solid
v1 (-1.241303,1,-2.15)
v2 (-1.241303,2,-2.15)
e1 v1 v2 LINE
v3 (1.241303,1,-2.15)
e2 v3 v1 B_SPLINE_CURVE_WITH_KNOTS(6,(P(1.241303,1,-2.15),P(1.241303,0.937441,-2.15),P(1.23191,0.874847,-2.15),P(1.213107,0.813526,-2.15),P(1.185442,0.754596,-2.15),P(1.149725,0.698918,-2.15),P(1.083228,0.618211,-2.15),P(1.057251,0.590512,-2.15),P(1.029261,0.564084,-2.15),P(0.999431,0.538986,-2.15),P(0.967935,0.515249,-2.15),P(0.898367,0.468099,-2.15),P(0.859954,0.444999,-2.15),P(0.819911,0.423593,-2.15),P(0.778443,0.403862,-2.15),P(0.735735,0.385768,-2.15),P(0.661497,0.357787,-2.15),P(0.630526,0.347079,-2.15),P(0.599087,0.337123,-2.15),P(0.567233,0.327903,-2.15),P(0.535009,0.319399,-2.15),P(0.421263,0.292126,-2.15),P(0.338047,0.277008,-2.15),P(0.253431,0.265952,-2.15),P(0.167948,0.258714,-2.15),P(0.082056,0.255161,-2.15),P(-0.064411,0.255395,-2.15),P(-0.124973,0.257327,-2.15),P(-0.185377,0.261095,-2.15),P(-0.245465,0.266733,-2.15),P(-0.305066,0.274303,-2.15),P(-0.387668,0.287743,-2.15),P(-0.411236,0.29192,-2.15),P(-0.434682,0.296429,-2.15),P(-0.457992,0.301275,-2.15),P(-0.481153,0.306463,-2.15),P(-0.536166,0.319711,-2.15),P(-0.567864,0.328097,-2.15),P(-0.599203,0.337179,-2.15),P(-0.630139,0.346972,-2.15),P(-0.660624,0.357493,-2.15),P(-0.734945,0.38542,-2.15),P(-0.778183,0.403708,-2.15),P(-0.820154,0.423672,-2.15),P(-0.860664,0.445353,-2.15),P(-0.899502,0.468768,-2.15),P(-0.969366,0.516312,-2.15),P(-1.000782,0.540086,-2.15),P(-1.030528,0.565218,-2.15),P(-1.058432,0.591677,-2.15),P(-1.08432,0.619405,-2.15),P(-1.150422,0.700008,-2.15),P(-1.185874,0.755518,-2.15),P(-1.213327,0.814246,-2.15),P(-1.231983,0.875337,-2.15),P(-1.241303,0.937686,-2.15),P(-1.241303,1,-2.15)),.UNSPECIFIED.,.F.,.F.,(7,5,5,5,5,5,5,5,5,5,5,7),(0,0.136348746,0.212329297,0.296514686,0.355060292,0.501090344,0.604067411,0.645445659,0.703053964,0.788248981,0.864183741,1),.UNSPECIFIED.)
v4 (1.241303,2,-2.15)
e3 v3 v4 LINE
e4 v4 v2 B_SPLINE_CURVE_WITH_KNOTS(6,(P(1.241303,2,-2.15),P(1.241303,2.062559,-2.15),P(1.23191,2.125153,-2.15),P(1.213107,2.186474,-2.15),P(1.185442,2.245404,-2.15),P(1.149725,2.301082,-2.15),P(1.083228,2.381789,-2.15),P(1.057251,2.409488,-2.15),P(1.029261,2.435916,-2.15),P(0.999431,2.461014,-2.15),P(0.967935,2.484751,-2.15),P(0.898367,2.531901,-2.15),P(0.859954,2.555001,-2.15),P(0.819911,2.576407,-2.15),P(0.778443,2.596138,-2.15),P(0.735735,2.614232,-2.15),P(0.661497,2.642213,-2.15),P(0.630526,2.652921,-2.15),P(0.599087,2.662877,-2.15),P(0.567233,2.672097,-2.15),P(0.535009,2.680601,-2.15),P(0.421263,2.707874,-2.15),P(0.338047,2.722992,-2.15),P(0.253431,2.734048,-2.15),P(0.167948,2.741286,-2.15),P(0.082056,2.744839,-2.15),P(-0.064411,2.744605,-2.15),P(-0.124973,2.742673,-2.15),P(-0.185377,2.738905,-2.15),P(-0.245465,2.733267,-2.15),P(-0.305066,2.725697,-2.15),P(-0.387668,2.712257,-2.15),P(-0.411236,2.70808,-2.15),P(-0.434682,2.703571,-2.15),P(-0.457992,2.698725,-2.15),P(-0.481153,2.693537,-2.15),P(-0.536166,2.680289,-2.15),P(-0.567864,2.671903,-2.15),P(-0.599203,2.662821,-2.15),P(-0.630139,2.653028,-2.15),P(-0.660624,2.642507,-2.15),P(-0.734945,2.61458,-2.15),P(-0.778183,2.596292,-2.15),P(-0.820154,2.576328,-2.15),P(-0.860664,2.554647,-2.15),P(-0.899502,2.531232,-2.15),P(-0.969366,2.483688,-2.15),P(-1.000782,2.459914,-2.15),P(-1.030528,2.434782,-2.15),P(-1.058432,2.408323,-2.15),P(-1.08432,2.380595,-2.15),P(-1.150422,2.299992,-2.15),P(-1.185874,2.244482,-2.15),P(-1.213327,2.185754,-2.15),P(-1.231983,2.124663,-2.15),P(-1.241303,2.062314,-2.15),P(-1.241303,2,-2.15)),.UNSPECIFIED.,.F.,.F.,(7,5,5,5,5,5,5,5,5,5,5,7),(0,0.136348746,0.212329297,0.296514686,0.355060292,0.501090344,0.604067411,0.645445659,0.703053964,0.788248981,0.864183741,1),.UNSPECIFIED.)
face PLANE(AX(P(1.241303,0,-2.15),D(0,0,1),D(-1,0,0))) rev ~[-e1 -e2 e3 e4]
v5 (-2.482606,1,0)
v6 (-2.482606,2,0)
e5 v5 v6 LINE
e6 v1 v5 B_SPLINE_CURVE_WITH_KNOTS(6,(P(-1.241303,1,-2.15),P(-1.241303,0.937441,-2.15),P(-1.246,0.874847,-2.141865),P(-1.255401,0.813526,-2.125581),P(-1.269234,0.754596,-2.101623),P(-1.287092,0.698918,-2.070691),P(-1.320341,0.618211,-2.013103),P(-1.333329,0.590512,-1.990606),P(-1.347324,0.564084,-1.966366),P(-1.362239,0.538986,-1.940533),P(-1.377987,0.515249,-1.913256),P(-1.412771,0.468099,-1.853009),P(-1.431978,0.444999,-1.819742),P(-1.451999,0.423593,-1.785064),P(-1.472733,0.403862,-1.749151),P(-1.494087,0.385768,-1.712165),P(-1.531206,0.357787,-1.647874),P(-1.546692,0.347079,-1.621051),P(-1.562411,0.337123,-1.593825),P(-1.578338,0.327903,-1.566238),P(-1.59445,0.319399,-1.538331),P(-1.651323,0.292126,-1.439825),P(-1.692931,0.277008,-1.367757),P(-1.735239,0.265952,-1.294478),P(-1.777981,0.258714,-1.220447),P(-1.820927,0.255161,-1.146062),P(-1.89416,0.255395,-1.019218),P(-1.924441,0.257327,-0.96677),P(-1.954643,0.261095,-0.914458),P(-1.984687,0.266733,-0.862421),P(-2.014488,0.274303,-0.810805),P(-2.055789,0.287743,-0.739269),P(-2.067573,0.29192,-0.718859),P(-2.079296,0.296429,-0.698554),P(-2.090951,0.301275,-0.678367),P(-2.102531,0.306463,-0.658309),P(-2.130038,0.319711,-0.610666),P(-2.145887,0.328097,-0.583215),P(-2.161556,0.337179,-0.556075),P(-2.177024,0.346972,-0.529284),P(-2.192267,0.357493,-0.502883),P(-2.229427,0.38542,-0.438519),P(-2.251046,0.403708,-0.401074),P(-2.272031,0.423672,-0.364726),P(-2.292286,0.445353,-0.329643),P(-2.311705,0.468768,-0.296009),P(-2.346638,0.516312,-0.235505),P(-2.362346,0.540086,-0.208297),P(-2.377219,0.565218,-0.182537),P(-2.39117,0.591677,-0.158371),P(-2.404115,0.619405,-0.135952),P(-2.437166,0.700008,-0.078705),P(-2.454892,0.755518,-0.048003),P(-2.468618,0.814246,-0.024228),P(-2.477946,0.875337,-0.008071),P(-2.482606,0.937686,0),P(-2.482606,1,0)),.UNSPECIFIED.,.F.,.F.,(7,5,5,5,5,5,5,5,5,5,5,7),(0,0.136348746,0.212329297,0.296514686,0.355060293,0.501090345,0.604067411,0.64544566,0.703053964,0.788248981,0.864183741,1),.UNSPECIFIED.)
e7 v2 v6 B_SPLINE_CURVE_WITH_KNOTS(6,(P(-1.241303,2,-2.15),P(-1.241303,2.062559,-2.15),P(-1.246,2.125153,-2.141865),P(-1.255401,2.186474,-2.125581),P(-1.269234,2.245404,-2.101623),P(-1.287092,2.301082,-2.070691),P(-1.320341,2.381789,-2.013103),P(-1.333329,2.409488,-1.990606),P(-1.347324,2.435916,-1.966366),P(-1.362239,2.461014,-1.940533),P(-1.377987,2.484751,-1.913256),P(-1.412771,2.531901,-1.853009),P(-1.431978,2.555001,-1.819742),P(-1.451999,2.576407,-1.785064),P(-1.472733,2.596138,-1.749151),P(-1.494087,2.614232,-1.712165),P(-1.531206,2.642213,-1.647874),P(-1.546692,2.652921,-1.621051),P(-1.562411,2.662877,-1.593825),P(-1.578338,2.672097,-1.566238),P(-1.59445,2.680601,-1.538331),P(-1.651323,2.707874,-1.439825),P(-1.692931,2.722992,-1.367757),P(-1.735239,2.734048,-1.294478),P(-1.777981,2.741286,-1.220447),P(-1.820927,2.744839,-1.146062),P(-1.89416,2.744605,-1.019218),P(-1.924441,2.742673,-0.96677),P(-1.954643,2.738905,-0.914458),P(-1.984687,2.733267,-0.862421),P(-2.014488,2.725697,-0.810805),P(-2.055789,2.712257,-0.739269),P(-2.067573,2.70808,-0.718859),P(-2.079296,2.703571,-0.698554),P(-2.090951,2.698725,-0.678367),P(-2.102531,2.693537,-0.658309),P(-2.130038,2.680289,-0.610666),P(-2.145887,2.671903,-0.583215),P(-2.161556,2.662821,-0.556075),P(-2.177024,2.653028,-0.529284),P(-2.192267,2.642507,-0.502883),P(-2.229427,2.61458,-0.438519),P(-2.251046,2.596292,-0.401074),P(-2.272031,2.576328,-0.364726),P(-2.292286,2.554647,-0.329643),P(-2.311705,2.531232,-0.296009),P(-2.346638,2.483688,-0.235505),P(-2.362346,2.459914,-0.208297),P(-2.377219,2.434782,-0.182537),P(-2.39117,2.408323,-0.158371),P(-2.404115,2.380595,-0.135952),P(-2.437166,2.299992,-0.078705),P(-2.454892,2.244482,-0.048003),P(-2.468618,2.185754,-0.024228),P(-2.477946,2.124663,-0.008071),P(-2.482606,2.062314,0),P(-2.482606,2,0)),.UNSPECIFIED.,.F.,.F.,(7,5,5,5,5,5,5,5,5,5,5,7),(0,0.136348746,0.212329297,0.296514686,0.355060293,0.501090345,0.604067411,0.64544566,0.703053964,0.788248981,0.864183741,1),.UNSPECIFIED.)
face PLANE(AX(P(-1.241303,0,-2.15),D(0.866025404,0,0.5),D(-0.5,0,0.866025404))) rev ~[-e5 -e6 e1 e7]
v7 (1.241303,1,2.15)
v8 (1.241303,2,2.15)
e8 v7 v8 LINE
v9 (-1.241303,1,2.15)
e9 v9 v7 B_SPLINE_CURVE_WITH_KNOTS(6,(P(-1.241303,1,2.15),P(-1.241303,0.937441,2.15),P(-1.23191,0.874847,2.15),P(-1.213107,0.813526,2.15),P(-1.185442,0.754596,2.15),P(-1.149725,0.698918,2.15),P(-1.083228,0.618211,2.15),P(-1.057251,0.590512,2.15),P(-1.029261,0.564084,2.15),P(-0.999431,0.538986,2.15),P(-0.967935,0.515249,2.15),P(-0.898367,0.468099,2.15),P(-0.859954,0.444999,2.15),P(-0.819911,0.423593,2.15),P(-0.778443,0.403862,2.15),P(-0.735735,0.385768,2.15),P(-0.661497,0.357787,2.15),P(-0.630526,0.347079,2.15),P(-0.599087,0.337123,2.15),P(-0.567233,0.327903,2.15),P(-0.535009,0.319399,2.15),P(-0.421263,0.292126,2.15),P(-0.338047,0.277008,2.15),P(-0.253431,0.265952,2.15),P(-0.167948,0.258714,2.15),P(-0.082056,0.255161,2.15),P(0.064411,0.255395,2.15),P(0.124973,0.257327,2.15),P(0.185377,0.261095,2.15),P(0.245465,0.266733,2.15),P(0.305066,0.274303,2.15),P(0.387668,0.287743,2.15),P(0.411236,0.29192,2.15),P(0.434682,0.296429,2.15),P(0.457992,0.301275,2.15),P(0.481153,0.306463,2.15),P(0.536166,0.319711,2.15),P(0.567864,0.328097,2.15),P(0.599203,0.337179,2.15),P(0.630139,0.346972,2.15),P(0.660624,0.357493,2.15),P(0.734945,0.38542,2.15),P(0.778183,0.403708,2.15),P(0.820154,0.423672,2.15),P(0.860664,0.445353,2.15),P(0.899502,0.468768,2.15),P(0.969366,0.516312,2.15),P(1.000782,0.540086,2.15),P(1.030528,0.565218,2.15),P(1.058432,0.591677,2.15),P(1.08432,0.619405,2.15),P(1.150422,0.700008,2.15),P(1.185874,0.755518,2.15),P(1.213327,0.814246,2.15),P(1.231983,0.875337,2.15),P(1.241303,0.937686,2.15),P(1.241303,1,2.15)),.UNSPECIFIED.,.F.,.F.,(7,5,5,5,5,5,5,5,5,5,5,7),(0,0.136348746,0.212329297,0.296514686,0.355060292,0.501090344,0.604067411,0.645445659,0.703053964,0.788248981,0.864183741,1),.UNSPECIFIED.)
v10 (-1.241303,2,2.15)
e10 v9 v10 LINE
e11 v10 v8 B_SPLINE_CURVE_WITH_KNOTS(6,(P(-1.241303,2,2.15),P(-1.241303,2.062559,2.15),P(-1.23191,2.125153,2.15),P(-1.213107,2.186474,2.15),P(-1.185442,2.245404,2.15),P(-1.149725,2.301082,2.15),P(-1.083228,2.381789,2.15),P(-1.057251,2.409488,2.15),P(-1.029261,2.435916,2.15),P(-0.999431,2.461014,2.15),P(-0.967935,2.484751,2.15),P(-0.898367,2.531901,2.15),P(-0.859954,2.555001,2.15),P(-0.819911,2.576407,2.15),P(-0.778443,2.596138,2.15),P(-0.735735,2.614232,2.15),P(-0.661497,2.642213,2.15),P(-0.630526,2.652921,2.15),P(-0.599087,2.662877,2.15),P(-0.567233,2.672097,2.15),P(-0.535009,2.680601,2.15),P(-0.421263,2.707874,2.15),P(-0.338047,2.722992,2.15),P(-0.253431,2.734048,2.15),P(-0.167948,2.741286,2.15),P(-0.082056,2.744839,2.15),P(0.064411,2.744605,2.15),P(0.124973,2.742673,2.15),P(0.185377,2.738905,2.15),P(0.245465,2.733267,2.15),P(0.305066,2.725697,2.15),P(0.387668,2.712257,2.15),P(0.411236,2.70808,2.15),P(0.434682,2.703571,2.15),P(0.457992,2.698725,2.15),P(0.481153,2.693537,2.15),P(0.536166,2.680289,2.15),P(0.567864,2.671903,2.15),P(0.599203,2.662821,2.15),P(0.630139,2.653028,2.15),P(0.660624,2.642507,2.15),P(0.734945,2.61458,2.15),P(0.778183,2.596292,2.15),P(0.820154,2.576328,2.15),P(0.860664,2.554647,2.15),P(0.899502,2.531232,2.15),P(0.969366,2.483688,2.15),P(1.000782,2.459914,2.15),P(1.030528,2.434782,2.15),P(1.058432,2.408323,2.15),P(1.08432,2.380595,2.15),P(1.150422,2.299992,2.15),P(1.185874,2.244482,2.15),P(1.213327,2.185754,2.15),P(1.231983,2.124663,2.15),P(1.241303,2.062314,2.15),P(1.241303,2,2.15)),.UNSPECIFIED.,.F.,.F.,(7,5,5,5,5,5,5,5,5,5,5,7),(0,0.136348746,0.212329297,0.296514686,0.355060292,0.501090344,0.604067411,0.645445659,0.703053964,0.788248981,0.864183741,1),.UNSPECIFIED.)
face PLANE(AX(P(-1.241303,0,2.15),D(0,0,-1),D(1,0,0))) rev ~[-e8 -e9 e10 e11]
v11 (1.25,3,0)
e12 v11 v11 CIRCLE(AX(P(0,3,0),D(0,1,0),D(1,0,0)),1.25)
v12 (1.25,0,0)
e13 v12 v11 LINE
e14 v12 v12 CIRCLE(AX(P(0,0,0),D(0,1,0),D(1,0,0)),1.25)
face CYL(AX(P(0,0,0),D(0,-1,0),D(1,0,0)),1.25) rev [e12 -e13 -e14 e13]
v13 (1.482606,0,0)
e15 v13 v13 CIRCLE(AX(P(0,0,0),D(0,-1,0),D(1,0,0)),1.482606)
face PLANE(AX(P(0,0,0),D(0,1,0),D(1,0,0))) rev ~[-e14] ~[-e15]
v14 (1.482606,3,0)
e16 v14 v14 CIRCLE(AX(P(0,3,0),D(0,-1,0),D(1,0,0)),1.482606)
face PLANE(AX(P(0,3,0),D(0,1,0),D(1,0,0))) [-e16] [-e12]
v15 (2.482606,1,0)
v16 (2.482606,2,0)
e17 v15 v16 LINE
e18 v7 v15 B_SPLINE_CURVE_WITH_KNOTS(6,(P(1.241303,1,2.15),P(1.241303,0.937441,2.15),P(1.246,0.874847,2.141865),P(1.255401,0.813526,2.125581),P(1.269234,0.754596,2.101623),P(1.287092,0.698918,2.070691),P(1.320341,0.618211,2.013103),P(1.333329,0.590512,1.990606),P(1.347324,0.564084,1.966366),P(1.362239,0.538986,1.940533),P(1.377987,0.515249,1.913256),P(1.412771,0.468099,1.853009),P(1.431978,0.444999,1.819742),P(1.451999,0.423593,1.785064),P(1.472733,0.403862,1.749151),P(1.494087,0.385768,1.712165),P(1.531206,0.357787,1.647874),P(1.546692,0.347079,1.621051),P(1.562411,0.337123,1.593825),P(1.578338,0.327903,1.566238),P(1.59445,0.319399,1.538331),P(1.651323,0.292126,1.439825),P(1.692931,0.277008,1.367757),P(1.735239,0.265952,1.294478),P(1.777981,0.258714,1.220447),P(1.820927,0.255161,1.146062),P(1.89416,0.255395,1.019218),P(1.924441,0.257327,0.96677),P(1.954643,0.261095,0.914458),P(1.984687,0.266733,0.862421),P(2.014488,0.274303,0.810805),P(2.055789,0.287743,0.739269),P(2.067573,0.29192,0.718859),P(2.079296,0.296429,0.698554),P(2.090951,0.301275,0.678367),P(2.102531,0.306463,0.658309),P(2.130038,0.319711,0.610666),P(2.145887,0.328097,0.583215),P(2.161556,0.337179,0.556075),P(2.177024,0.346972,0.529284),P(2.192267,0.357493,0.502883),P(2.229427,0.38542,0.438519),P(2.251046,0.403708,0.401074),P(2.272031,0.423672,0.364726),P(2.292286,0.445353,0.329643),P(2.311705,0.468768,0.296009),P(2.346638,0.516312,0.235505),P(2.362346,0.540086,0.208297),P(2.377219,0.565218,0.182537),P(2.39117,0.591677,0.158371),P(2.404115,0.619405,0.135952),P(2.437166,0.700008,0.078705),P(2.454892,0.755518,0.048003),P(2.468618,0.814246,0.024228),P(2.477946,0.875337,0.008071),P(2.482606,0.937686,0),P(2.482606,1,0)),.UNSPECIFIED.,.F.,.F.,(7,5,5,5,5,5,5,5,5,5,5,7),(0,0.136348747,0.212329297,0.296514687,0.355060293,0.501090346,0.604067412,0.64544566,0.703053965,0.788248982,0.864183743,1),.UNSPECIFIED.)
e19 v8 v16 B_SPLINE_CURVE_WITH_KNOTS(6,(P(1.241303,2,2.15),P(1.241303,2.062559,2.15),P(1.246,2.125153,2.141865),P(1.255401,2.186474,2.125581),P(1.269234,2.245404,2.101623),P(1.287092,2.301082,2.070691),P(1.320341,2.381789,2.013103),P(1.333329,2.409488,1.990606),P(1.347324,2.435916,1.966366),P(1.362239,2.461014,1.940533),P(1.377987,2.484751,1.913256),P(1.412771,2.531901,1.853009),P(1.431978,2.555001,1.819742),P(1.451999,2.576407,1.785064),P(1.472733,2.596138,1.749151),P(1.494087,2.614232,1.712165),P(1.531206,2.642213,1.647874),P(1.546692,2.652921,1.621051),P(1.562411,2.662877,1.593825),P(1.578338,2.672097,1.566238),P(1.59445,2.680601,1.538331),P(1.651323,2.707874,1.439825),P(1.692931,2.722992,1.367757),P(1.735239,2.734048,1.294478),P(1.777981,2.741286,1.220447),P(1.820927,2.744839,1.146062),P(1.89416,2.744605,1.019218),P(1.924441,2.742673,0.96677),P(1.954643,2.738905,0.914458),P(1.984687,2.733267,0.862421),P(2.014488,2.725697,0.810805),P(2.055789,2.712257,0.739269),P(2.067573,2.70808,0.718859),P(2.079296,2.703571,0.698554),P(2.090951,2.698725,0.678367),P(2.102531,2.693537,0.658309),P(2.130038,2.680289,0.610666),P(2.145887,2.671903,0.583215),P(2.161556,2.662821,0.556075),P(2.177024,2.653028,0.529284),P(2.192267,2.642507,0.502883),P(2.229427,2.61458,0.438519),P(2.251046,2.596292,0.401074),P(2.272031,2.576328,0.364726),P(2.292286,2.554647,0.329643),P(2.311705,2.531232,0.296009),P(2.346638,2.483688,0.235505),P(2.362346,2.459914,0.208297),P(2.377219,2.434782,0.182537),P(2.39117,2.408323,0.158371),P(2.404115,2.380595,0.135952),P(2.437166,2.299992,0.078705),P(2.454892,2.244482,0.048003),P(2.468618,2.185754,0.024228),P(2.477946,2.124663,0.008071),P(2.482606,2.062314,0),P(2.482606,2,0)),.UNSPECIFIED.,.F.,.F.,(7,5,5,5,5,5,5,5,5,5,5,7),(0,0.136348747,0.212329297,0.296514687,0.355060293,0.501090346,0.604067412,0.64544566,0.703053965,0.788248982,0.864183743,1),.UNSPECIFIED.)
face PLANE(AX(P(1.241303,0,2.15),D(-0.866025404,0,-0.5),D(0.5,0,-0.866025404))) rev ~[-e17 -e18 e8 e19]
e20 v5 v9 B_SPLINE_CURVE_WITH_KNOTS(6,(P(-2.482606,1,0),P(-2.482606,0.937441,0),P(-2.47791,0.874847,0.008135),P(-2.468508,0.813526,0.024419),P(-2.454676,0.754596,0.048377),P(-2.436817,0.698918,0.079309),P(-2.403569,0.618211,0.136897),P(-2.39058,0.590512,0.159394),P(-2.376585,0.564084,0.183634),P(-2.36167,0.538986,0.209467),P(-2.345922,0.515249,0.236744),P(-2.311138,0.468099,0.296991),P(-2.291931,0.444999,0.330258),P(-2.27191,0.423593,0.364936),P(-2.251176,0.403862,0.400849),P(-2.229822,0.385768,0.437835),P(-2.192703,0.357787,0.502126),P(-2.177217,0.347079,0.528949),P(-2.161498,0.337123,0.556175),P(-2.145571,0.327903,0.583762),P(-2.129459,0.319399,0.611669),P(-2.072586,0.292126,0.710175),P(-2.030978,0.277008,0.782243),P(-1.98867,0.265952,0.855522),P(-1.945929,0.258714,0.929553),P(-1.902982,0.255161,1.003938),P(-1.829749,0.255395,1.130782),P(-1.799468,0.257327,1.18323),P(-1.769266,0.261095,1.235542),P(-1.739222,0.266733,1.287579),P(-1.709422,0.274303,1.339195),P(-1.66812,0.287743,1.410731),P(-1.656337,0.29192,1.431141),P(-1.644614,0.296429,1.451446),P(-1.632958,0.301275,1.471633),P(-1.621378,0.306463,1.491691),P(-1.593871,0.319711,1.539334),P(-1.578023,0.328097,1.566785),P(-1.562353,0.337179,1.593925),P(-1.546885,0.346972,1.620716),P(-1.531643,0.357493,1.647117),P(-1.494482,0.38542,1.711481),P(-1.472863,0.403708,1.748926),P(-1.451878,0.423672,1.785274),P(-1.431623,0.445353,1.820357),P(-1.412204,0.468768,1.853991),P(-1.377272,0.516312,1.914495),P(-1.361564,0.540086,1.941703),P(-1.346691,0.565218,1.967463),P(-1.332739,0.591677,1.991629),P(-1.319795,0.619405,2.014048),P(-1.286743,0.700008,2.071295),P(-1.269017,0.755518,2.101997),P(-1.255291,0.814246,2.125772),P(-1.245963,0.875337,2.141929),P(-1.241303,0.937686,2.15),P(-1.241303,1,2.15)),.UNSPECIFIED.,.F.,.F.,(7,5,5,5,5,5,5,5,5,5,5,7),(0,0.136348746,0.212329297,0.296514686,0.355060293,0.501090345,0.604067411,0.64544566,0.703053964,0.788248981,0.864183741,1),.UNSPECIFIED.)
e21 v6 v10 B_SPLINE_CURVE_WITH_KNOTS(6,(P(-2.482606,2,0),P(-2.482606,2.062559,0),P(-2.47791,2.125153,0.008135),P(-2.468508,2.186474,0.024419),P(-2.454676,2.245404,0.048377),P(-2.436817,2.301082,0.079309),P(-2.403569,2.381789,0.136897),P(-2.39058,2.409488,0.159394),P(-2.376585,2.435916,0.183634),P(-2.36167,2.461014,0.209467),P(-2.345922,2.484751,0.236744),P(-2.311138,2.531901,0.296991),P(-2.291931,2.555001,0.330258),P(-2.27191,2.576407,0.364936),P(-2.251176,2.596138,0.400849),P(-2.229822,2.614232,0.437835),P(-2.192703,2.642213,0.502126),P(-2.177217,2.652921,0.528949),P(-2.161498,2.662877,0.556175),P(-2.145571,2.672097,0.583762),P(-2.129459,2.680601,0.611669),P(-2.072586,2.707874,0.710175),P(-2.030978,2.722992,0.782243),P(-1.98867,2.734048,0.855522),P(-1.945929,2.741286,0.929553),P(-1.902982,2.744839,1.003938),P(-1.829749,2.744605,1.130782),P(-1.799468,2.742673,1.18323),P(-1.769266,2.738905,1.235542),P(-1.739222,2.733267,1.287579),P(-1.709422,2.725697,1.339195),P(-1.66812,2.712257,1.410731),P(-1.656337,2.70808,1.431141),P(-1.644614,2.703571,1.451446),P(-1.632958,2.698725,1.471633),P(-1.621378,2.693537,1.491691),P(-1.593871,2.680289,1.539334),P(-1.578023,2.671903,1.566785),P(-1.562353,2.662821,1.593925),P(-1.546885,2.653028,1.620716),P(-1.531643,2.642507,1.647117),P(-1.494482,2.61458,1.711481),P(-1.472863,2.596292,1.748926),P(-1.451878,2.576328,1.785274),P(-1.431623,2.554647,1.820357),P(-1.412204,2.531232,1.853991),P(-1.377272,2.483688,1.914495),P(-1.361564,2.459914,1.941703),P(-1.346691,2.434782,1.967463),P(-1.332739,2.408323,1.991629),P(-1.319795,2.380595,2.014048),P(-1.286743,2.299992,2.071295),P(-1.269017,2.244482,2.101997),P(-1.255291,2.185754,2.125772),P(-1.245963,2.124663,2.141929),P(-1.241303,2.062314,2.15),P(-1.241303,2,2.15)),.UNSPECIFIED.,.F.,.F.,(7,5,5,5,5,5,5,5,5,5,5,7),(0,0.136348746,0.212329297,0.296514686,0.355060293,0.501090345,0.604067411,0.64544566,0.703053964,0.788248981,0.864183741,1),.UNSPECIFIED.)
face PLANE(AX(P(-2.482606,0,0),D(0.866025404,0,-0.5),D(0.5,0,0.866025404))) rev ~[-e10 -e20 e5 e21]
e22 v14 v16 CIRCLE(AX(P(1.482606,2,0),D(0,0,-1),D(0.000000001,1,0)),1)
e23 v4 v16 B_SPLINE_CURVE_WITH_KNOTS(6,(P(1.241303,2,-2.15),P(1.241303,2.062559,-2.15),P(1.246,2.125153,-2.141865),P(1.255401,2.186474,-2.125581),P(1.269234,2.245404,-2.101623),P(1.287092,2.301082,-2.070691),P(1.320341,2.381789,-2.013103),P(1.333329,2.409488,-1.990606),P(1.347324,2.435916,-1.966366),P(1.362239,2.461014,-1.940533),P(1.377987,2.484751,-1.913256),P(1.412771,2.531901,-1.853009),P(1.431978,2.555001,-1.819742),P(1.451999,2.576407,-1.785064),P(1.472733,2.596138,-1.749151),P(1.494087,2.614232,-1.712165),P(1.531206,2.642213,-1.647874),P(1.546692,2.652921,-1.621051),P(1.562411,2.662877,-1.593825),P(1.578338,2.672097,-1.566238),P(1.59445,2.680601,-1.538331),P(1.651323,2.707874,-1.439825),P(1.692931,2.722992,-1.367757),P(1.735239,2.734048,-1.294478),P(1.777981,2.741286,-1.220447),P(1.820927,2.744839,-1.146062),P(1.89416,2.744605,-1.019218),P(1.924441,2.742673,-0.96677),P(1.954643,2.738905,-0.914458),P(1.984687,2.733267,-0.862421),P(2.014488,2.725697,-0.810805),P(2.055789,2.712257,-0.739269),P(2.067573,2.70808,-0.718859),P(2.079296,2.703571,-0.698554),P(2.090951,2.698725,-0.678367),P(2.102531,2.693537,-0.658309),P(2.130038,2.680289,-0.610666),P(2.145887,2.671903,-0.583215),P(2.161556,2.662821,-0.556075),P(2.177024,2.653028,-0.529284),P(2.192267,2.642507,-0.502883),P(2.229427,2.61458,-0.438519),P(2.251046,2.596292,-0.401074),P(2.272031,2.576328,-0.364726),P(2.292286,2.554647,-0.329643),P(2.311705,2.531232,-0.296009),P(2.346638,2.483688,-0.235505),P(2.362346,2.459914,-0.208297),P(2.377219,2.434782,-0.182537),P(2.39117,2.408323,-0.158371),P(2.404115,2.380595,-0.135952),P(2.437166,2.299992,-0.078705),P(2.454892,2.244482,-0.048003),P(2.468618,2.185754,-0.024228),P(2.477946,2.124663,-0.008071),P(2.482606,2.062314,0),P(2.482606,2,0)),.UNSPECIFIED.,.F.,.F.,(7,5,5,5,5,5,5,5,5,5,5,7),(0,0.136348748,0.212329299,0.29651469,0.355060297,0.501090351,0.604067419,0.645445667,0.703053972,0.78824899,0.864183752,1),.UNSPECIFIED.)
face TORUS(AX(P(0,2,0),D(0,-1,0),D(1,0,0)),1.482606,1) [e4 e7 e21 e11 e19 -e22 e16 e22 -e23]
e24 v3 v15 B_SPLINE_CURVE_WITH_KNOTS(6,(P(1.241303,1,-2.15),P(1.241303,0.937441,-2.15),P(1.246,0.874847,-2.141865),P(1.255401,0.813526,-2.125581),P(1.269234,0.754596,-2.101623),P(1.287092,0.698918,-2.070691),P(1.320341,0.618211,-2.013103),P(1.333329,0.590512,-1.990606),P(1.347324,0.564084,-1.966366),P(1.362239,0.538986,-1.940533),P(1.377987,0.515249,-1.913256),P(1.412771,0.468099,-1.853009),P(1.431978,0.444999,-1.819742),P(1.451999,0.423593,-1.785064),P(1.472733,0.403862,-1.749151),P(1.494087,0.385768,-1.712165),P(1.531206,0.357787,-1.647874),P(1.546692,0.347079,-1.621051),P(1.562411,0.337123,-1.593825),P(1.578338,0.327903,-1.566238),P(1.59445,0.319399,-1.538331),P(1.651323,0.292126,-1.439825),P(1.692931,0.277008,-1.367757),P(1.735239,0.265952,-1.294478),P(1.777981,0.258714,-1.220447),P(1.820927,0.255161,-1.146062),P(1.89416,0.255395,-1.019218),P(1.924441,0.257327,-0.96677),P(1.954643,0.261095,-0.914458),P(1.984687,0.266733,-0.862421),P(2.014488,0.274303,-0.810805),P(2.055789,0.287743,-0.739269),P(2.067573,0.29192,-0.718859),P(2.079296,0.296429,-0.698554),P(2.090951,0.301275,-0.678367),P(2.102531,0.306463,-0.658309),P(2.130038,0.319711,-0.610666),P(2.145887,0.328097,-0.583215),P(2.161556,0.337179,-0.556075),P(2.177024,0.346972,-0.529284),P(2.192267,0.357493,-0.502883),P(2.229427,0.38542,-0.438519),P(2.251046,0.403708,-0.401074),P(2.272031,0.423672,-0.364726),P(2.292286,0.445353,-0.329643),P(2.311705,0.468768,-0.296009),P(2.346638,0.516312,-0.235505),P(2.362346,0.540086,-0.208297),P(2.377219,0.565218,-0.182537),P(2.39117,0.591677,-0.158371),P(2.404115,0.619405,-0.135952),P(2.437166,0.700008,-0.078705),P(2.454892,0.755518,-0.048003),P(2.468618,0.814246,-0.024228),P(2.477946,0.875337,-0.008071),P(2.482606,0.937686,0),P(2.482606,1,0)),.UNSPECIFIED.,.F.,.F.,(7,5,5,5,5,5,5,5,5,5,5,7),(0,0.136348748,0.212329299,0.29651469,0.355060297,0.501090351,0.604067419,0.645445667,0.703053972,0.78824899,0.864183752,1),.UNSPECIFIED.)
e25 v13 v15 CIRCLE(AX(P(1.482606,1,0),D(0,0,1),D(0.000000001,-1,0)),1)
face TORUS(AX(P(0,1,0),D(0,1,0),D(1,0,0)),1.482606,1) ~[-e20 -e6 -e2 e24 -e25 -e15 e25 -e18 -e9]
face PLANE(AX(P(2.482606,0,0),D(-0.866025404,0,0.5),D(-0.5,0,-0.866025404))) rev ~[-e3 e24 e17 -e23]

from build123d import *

# Parameters (mm, degrees)
SKETCH2_R           = 1.25
BOSS_EXTRUDE1_DEPTH = 3


with BuildPart() as part:
    # Sketch2 → Boss-Extrude1 (new body)
    with BuildSketch(Plane(origin=(0, 0, 0), x_dir=(1, 0, 0), z_dir=(0, 1, 0))):
        Polygon((2.482606158, 0), (1.241303079, 2.15), (-1.241303079, 2.15), (-2.482606158, 0), (-1.241303079, -2.15), (1.241303079, -2.15), align=None)
        Circle(SKETCH2_R, mode=Mode.SUBTRACT)
    extrude(amount=BOSS_EXTRUDE1_DEPTH)

    # Sketch3 → Cut-Revolve1 (revolve, cut)
    with BuildSketch(Plane.XY):
        with BuildLine():
            Line((2.482606158, 0), (1.482606158, 0))
            ThreePointArc((1.482606158, 0), (2.189712939, 0.292893219), (2.482606158, 1))
            Line((2.482606158, 1), (2.482606158, 0))
        make_face()
        with BuildLine():
            Line((2.482606158, 3), (1.482606158, 3))
            ThreePointArc((1.482606158, 3), (2.189712939, 2.707106781), (2.482606158, 2))
            Line((2.482606158, 2), (2.482606158, 3))
        make_face()
    revolve(axis=Axis((0, 0, 0), (0, -1, 0)), mode=Mode.SUBTRACT)


solid = part.part
